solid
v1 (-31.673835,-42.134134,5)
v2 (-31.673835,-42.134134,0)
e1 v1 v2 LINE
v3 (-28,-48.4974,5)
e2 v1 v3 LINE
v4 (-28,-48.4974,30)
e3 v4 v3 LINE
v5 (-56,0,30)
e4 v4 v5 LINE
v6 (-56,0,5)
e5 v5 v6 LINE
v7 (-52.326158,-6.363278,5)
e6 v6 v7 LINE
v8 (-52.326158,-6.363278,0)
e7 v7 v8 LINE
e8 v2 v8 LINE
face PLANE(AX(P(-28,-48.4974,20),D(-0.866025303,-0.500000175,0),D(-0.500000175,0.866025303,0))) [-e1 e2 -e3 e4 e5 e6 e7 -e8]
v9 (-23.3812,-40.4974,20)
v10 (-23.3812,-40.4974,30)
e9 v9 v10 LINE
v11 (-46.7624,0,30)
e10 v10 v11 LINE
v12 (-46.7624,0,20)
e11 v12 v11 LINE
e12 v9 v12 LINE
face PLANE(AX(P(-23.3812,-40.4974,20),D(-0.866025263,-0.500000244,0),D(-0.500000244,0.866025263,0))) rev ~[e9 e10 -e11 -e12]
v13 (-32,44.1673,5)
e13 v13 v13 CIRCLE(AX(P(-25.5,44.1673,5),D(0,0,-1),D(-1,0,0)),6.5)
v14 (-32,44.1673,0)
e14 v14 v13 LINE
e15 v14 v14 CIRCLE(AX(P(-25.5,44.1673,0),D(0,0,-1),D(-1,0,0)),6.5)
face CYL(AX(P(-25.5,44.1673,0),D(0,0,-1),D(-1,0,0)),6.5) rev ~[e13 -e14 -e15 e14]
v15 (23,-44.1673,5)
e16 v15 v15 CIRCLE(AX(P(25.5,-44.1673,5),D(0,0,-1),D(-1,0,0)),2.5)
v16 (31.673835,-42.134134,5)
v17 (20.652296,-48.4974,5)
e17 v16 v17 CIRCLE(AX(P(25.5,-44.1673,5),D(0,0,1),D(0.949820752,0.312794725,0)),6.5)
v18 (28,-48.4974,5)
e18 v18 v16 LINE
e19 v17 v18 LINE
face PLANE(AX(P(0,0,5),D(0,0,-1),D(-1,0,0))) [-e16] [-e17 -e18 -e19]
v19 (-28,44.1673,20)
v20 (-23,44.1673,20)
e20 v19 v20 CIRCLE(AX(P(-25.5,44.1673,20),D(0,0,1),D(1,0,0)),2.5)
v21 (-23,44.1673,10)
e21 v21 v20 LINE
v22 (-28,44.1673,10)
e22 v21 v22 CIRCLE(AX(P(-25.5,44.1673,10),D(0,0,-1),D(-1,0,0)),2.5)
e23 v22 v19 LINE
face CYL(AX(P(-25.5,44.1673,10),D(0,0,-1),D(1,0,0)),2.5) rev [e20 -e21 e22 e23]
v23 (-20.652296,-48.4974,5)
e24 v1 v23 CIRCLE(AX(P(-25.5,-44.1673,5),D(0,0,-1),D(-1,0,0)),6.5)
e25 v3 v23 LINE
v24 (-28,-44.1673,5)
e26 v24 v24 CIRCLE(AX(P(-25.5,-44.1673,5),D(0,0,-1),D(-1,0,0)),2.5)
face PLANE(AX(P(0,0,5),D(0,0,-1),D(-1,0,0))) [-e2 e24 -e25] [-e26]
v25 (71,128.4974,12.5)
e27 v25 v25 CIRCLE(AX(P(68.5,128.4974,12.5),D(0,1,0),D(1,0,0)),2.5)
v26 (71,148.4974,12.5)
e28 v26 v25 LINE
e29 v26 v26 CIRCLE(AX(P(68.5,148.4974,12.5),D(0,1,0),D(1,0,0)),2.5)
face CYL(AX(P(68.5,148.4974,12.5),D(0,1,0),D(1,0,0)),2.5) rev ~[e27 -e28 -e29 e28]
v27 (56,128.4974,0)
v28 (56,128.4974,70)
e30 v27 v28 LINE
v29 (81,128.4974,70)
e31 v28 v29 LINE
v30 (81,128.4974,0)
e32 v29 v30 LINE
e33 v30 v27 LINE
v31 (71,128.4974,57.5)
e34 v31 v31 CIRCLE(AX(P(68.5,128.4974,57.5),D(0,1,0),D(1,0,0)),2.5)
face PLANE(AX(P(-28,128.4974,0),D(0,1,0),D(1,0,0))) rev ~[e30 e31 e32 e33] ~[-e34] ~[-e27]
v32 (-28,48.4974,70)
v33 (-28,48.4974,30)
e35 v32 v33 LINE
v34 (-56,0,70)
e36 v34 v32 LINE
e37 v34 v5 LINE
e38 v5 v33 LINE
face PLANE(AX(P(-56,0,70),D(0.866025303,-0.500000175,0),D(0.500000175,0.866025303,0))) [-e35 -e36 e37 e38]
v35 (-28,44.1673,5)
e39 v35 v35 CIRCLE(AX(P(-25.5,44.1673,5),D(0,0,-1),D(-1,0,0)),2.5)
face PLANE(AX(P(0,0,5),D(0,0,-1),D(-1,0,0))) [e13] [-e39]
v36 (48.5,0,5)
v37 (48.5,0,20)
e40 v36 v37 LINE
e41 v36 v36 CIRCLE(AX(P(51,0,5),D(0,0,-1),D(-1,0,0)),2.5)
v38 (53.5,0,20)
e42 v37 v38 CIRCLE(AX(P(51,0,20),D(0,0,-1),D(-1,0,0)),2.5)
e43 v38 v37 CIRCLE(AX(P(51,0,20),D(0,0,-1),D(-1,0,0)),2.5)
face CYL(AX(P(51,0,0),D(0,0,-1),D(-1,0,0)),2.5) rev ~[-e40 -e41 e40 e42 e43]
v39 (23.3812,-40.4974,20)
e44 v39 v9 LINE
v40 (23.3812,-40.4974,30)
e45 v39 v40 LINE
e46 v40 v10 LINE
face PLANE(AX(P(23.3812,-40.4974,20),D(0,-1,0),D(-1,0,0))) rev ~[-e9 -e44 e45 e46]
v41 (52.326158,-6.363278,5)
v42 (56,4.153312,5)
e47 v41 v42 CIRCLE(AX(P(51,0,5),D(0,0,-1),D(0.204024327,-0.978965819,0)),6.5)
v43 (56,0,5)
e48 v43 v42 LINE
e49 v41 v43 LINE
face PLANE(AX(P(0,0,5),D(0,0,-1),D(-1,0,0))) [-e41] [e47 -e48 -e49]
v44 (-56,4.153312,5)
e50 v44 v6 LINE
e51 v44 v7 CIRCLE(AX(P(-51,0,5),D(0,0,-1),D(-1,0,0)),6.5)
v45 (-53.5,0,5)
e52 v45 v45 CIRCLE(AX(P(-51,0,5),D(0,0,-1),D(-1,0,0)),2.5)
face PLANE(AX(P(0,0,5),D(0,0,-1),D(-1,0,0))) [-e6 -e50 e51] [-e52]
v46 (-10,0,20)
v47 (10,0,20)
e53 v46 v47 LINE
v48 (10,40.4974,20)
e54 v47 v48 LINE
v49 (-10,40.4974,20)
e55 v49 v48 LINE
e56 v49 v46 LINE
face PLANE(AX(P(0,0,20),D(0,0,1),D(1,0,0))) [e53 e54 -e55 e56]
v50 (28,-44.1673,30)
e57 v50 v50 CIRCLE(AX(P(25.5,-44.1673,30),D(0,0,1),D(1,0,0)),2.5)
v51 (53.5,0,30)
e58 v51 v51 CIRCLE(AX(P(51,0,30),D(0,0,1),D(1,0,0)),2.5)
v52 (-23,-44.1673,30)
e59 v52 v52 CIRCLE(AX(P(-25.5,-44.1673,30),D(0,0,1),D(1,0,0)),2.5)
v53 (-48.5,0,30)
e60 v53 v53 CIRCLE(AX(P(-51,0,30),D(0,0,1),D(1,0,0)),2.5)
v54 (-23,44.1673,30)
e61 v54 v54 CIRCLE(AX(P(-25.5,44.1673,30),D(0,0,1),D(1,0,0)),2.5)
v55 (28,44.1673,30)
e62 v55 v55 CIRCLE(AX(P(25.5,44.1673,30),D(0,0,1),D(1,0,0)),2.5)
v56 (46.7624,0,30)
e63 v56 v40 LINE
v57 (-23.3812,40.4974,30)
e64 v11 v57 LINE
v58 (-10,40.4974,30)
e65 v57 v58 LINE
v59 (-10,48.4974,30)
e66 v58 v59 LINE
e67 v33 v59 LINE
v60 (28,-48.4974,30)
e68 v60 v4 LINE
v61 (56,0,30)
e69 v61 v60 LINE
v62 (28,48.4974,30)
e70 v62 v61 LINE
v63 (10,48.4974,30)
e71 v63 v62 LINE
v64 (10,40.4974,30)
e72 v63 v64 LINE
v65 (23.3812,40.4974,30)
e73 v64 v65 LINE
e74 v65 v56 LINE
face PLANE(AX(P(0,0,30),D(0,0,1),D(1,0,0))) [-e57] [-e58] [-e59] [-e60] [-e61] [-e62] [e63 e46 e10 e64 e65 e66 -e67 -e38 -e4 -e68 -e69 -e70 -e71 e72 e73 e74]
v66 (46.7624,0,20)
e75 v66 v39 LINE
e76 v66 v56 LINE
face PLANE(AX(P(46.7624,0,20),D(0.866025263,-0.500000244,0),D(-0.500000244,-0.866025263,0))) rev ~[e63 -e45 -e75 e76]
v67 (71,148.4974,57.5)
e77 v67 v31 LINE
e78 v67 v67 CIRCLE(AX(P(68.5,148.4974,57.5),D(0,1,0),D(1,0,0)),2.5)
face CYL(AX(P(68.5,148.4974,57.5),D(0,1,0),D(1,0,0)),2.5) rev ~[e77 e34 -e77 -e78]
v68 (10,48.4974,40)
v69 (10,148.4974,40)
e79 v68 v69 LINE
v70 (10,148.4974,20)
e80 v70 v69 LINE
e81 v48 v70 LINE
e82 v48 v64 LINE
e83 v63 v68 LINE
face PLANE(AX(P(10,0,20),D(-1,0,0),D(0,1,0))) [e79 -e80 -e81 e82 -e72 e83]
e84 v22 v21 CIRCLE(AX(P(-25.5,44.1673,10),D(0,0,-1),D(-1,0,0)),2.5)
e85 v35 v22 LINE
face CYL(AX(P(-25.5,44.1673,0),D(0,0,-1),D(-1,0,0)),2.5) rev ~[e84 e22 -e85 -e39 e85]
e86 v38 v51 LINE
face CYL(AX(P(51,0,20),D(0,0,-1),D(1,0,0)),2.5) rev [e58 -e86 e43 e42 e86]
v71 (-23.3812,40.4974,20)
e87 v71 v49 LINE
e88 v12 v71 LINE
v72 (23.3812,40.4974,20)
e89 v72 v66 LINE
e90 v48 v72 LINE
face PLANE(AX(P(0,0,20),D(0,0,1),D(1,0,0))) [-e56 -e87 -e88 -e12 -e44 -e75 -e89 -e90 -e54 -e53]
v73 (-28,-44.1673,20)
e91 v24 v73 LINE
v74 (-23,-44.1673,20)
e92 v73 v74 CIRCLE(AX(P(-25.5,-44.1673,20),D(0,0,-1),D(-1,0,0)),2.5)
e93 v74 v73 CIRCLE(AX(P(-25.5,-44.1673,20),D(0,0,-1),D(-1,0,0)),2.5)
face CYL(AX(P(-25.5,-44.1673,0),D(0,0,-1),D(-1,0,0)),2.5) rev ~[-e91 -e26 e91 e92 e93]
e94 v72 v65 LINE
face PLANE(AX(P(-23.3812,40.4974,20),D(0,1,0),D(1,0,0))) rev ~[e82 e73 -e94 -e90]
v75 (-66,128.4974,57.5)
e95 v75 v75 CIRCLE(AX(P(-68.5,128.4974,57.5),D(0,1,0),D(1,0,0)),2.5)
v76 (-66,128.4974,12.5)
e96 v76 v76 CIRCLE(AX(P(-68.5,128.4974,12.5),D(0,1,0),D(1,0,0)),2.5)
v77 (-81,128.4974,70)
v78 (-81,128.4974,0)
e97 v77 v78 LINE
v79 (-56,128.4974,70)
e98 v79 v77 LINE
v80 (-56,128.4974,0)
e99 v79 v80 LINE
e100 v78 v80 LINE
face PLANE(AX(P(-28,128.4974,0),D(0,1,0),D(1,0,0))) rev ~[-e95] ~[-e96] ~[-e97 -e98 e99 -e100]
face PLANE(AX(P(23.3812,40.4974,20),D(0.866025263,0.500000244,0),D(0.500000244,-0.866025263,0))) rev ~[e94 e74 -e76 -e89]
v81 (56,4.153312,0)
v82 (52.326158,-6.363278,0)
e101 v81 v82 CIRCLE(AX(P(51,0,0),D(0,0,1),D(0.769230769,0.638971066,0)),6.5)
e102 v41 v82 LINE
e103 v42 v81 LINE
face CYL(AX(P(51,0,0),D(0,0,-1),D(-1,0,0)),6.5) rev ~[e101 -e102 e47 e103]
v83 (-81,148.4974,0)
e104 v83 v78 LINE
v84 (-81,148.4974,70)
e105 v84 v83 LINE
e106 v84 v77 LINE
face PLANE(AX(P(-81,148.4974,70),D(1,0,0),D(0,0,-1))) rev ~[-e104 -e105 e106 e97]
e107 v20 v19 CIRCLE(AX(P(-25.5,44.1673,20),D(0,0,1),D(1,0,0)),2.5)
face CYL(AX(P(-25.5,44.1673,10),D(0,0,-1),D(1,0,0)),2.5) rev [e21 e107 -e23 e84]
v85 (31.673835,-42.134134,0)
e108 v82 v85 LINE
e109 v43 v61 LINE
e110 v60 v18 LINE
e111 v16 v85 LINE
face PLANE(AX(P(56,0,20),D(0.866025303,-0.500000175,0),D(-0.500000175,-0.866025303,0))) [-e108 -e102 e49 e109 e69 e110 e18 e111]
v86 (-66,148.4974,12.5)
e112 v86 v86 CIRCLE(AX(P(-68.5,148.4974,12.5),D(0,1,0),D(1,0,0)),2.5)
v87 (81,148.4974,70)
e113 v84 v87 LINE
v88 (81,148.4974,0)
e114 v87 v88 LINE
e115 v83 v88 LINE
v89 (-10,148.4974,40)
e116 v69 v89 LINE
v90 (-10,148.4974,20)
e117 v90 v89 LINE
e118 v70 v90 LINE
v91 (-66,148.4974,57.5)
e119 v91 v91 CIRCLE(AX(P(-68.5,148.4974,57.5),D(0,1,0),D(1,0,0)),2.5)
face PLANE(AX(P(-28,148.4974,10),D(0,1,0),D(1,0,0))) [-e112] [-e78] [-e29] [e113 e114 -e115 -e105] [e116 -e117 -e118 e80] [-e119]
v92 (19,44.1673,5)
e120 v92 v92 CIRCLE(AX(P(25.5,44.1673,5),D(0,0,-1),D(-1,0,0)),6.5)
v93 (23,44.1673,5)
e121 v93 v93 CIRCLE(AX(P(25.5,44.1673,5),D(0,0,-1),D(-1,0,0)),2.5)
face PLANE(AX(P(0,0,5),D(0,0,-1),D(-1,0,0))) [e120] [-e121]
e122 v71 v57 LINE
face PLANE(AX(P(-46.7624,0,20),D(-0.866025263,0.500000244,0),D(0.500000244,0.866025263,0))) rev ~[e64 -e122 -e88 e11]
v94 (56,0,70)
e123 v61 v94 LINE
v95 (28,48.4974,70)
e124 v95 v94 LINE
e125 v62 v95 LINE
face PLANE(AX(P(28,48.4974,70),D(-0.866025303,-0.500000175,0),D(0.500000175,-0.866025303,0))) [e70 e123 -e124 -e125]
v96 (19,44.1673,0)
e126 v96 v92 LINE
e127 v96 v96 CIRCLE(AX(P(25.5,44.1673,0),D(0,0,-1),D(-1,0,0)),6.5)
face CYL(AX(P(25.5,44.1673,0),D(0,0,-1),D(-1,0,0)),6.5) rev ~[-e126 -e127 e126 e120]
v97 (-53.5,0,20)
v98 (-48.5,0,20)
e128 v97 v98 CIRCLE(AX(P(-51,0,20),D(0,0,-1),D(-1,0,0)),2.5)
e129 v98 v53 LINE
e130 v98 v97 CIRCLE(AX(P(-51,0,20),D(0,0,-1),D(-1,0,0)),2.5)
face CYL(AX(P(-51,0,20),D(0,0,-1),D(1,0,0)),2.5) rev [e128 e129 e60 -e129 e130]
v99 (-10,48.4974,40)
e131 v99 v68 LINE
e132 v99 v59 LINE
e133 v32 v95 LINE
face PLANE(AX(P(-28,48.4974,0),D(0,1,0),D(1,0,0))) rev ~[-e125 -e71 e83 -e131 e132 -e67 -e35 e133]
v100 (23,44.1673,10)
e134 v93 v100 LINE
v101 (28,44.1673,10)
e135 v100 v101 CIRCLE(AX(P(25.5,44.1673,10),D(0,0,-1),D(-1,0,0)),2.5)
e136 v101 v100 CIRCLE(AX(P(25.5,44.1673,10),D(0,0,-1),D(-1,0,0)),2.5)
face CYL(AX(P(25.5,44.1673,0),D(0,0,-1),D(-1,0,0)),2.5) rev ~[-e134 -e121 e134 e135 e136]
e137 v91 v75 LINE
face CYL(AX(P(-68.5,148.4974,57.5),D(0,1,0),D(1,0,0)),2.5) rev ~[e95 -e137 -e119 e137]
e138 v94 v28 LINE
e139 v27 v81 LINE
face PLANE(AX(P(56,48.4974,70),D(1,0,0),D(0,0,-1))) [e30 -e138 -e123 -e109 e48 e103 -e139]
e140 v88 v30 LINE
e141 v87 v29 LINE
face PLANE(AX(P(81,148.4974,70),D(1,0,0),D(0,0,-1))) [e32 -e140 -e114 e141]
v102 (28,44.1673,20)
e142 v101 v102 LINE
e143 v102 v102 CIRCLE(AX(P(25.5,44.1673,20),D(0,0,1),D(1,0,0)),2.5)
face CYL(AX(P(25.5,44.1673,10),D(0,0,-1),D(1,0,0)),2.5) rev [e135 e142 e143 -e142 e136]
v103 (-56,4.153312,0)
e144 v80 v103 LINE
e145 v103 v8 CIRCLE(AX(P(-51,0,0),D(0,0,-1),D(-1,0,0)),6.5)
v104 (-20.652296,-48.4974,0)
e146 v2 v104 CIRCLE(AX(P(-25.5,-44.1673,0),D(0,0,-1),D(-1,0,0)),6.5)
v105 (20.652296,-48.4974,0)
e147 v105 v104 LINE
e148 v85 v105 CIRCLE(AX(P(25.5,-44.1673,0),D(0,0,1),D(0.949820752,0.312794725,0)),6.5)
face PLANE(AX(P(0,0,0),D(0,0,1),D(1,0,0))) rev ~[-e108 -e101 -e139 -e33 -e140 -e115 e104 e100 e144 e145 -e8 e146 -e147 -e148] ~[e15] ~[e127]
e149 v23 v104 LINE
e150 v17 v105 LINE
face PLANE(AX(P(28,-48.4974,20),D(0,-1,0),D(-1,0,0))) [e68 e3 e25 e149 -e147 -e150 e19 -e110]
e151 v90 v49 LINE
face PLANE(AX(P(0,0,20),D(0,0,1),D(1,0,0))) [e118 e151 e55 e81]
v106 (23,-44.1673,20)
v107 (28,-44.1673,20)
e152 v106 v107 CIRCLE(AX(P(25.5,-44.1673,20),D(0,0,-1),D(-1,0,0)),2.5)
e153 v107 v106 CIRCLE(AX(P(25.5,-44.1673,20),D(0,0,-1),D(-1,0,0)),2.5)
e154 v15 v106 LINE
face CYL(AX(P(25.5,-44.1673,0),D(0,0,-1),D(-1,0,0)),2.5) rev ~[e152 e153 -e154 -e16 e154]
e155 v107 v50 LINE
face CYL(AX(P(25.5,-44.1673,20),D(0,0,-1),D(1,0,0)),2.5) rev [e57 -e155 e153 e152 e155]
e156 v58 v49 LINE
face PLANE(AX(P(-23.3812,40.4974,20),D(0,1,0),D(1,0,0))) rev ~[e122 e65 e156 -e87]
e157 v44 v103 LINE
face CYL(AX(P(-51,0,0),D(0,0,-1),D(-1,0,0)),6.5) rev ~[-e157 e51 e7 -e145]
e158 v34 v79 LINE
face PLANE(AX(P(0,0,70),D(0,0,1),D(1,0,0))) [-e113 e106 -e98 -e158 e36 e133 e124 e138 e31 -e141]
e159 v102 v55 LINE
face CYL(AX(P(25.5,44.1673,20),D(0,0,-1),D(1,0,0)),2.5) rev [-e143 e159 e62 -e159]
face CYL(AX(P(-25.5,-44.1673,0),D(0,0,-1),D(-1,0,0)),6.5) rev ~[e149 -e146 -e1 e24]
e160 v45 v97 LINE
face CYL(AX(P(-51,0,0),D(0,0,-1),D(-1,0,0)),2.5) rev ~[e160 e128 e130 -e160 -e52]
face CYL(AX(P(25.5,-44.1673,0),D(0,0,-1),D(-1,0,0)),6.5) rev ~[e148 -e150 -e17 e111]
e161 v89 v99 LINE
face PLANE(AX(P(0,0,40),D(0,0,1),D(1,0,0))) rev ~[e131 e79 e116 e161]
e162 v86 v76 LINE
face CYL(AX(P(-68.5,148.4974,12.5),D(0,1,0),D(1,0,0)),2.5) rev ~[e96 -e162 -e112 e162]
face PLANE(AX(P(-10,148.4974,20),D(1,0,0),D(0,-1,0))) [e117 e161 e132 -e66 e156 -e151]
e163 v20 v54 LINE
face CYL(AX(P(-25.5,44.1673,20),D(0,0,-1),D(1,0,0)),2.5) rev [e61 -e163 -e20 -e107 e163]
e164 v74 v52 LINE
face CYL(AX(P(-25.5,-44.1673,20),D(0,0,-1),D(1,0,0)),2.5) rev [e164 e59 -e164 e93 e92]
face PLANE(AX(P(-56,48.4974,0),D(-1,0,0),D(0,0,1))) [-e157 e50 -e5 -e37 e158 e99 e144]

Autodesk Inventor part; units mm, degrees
ref_plane "YZ Plane" through (0, 0, 0) normal (1, 0, 0) x (0, 1, 0)
ref_plane "XZ Plane" through (0, 0, 0) normal (0, 1, 0) x (-1, 0, 0)
ref_plane "XY Plane" through (0, 0, 0) normal (0, 0, 1) x (1, 0, 0)
sketch "Sketch5" plane through (0, 0, 0) normal (0, 0, 1) x (1, 0, 0)
  line L0 (56, 0) -> (28, -48.4974)
  line L1 (28, -48.4974) -> (-28, -48.4974)
  line L2 (-28, -48.4974) -> (-56, 0)
  line L3 (-56, 0) -> (-28, 48.4974)
  line L4 (-28, 48.4974) -> (28, 48.4974)
  line L5 (28, 48.4974) -> (56, 0)
  circle A0 centre (0, 30) radius 2.5
  circle A1 centre (-25.9808, 15) radius 2.5
  circle A2 centre (-25.9808, -15) radius 2.5
  circle A3 centre (0, -30) radius 2.5
  circle A4 centre (25.9808, -15) radius 2.5
  circle A5 centre (25.9808, 15) radius 2.5
  point P0 (0, 0)
  point P1 (0, 0)
  dimension "d28" = 112
  dimension "d29" = 5
  dimension "d30" = 30
  dimension "d33" = 360
extrude "Extrusion3" add sketch "Sketch5" along normal blind 10
sketch "Sketch6" plane through (0, 0, 10) normal (0, 0, 1) x (1, 0, 0)
  circle A0 centre (25.9808, 15) radius 2.5 construction
  circle A1 centre (25.9808, -15) radius 2.5 construction
  circle A2 centre (0, -30) radius 2.5 construction
  circle A3 centre (-25.9808, -15) radius 2.5 construction
  circle A4 centre (-25.9808, 15) radius 2.5 construction
  circle A5 centre (0, 30) radius 2.5 construction
  line L0 (28, -48.4974) -> (56, 0) projected
  line L1 (56, 0) -> (28, 48.4974) projected
  line L2 (28, 48.4974) -> (-28, 48.4974) projected
  line L3 (-28, 48.4974) -> (-56, 0) projected
  line L4 (-56, 0) -> (-28, -48.4974) projected
  line L5 (-28, -48.4974) -> (28, -48.4974) projected
  line L6 (-44.453, 0) -> (-22.2265, 38.4974)
  line L7 (-22.2265, 38.4974) -> (22.2265, 38.4974)
  line L8 (22.2265, 38.4974) -> (44.453, 0)
  line L9 (44.453, 0) -> (22.2265, -38.4974)
  line L10 (22.2265, -38.4974) -> (-22.2265, -38.4974)
  line L11 (-22.2265, -38.4974) -> (-44.453, 0)
  point P0 (0, 0)
  dimension "d37" = 10
extrude "Extrusion4" add sketch "Sketch6" along normal blind 50
sketch "Sketch7" plane through (0, 0, 60) normal (0, 0, 1) x (1, 0, 0)
  line L0 (-22.2265, 38.4974) -> (22.2265, 38.4974) projected
  line L1 (22.2265, 38.4974) -> (44.453, 0) projected
  line L2 (44.453, 0) -> (22.2265, -38.4974) projected
  line L3 (22.2265, -38.4974) -> (-22.2265, -38.4974) projected
  line L4 (-22.2265, -38.4974) -> (-44.453, 0) projected
  line L5 (-44.453, 0) -> (-22.2265, 38.4974) projected
  line L6 (28, -48.4974) -> (56, 0) projected
  line L7 (56, 0) -> (28, 48.4974) projected
  line L8 (28, 48.4974) -> (-28, 48.4974) projected
  line L9 (-28, 48.4974) -> (-56, 0) projected
  line L10 (-56, 0) -> (-28, -48.4974) projected
  line L11 (-28, -48.4974) -> (28, -48.4974) projected
  point P0 (0, 0)
extrude "Extrusion5" add sketch "Sketch7" along normal blind 10 contours L0 L1 L2 L3 L4 L5 | L11 L10 L9 L8 L7 L6
sketch "Sketch8" plane through (-28, 48.4974, 0) normal (0, 1, 0) x (1, 0, 0)
  line L0 (-28, -70) -> (0, -70) projected
  line L1 (-28, -70) -> (84, -70)
  line L2 (84, -70) -> (84, 0)
  line L3 (84, 0) -> (-28, 0)
  line L4 (-28, 0) -> (-28, -70)
  line L5 (0, 0) -> (56, 0) projected
  point P0 (28, 0)
  point P1 (28, 0)
  dimension "d42" = 112
extrude "Extrusion6" add sketch "Sketch8" against normal blind 48.4974 and the other way blind 100
sketch "Sketch9" plane through (-28, 148.4974, 0) normal (0, 1, 0) x (1, 0, 0)
  line L0 (-16.453, -60) -> (72.453, -60) projected
  line L1 (72.453, -10) -> (72.453, -60) projected
  line L2 (-16.453, -10) -> (-16.453, -60) projected
  line L3 (50.2265, -10) -> (72.453, -10) projected
  line L4 (72.453, -10) -> (-16.453, -10)
  point P0 (28, 0)
extrude "Extrusion7" cut sketch "Sketch9" against normal blind 100
sketch "Sketch10" plane through (0, 0, 0) normal (0, 0, -1) x (-1, 0, 0)
  circle A0 centre (-25.9808, -15) radius 2.5 projected
  circle A1 centre (-25.9808, -15) radius 2.5 projected
  circle A2 centre (-25.9808, -15) radius 2.5
  circle A3 centre (0, -30) radius 2.5
  circle A4 centre (25.9808, -15) radius 2.5
  circle A5 centre (25.9808, 15) radius 2.5
  circle A6 centre (0, 30) radius 2.5
  circle A7 centre (-25.9808, 15) radius 2.5
  point P0 (0, 0)
  dimension "d52" = 360
extrude "Extrusion8" cut sketch "Sketch10" against normal blind 10
sketch "Sketch12" plane through (0, 0, 70) normal (0, 0, 1) x (1, 0, 0)
  line L0 (56, 0) -> (28, -48.4974) projected
  line L1 (56, 0) -> (28, -48.4974)
  line L2 (28, -48.4974) -> (-28, -48.4974)
  line L3 (-28, -48.4974) -> (-56, 0)
  line L4 (-56, 0) -> (-28, 48.4974)
  line L5 (-28, 48.4974) -> (28, 48.4974)
  line L6 (28, 48.4974) -> (56, 0)
  point P0 (0, 0)
  point P1 (0, 0)
extrude "Extrusion9" cut sketch "Sketch12" against normal blind 50
sketch "Sketch13" plane through (0, 0, 10) normal (0, 0, 1) x (1, 0, 0)
  line L0 (22.2265, -38.4974) -> (44.453, 0) projected
  line L1 (22.2265, -38.4974) -> (-22.2265, -38.4974)
  line L2 (-22.2265, -38.4974) -> (-44.453, 0)
  line L3 (-44.453, 0) -> (-22.2265, 38.4974)
  line L4 (-22.2265, 38.4974) -> (22.2265, 38.4974)
  line L5 (22.2265, 38.4974) -> (44.453, 0)
  line L6 (44.453, 0) -> (22.2265, -38.4974)
  point P0 (0, 0)
  point P1 (0, 0)
extrude "Extrusion10" cut sketch "Sketch13" along normal blind 10
sketch "Sketch14" plane through (-44.453, 148.4974, 10) normal (0, 0, 1) x (1, 0, 0)
  line L0 (-11.547, -148.4974) -> (16.453, -100) projected
  line L1 (16.453, -100) -> (16.453, -120)
  line L2 (0, -148.4974) -> (22.2265, -110) projected
  line L3 (16.453, -100) -> (72.453, -100) projected
  line L4 (72.453, -100) -> (72.453, -120)
  line L5 (66.6795, -110) -> (88.906, -148.4974) projected
  line L6 (16.453, -120) -> (72.453, -120)
  line L7 (16.453, -100) -> (72.453, -100)
  point P0 (44.453, -148.4974)
extrude "Extrusion11" cut sketch "Sketch14" along normal blind 10
sketch "Sketch15" plane through (-28, 148.4974, 0) normal (0, 1, 0) x (1, 0, 0)
  line L0 (-28, -20) -> (-28, -70) projected
  line L1 (-28, -70) -> (-53, -70)
  line L2 (-53, -70) -> (-53, 0)
  line L3 (-53, 0) -> (-28, 0)
  line L4 (-28, 0) -> (-28, -70)
  line L5 (-28, -70) -> (84, -70) projected
  line L6 (84, -70) -> (109, -70)
  line L7 (109, -70) -> (109, 0)
  line L8 (109, 0) -> (84, 0)
  line L9 (84, 0) -> (84, -70)
  circle A0 centre (96.5, -57.5) radius 2.5
  circle A1 centre (96.5, -12.5) radius 2.5
  circle A2 centre (-40.5, -12.5) radius 2.5
  circle A3 centre (-40.5, -57.5) radius 2.5
  line L10 (96.5, -57.5) -> (96.5, -12.5) construction
  line L11 (-40.5, -12.5) -> (-40.5, -57.5) construction
  point P0 (28, 0)
  point P1 (-40.5, -70)
  point P2 (-40.5, 0)
  point P3 (96.5, 0)
  point P4 (96.5, -70)
  point P5 (96.5, -35)
  point P6 (109, -35)
  dimension "d62" = 25
  dimension "d63" = 25
  dimension "d64" = 5
  dimension "d65" = 5
  dimension "d66" = 5
  dimension "d67" = 5
  dimension "d68" = 45
extrude "Extrusion12" add sketch "Sketch15" against normal blind 20
sketch "Sketch16" plane through (-28, 48.4974, 0) normal (0, 1, 0) x (1, 0, 0)
  line L0 (0, -20) -> (0, -10) projected
  line L1 (-16.453, -10) -> (0, -10) projected
  line L2 (-16.453, -60) -> (-16.453, -10) projected
  line L3 (0, -60) -> (-16.453, -60) projected
  line L4 (0, -60) -> (0, -20) projected
  line L5 (72.453, -10) -> (72.453, -60) projected
  line L6 (56, -10) -> (56, -20) projected
  line L7 (56, -20) -> (56, -60) projected
  line L8 (72.453, -60) -> (56, -60) projected
  line L9 (72.453, -10) -> (72.453, -60) projected
  line L10 (56, -10) -> (72.453, -10) projected
  point P0 (28, 0)
extrude "Extrusion13" add sketch "Sketch16" along normal blind 100
sketch "Sketch17" plane through (0, 0, 0) normal (0, 0, -1) x (-1, 0, 0)
  circle A0 centre (-51, 0) radius 2.5
  circle A1 centre (-25.5, -44.1673) radius 2.5
  circle A2 centre (25.5, -44.1673) radius 2.5
  circle A3 centre (51, 0) radius 2.5
  circle A4 centre (25.5, 44.1673) radius 2.5
  circle A5 centre (-25.5, 44.1673) radius 2.5
  point P0 (0, 0)
  point P1 (-56, 0)
  dimension "d73" = 5
  dimension "d74" = 5
  dimension "d77" = 360
extrude "Extrusion14" cut sketch "Sketch17" against normal through all
sketch "Sketch18" plane through (0, 0, 0) normal (0, 0, -1) x (-1, 0, 0)
  circle A0 centre (-51, 0) radius 2.5 projected
  circle A1 centre (-51, 0) radius 6.5
  circle A2 centre (-25.5, 44.1673) radius 6.5
  circle A3 centre (25.5, 44.1673) radius 6.5
  circle A4 centre (51, 0) radius 6.5
  circle A5 centre (25.5, -44.1673) radius 6.5
  circle A6 centre (-25.5, -44.1673) radius 6.5
  point P0 (0, 0)
  dimension "d81" = 13
  dimension "d84" = 360
extrude "Extrusion15" cut sketch "Sketch18" against normal blind 5 contours A0 | A1 | A2 | A3 | A4 | A5 | A6
sketch "Sketch19" plane through (0, 0, 10) normal (0, 0, 1) x (1, 0, 0)
  circle A0 centre (0, -30) radius 2.5 projected
  circle A1 centre (-25.9808, -15) radius 2.5 projected
  circle A2 centre (-25.9808, 15) radius 2.5 projected
  circle A3 centre (0, 30) radius 2.5 projected
  circle A4 centre (25.9808, 15) radius 2.5 projected
  circle A5 centre (25.9808, -15) radius 2.5 projected
  point P0 (0, 0)
extrude "Extrusion16" add sketch "Sketch19" against normal blind 10
sketch "Sketch20" plane through (-28, 148.4974, 0) normal (0, 1, 0) x (1, 0, 0)
  line L0 (56, -60) -> (0, -60) projected
  line L1 (0, -60) -> (0, -10) projected
  line L2 (0, -10) -> (56, -10) projected
  line L3 (56, -10) -> (56, -60) projected
  line L4 (5.7735, -20) -> (50.2265, -20) projected
  line L5 (50.2265, -20) -> (72.453, -20) projected
  line L6 (-16.453, -20) -> (5.7735, -20) projected
  line L7 (56, -20) -> (56, -10) projected
  line L8 (56, -20) -> (0, -20)
  line L9 (0, -20) -> (0, -60)
  line L10 (0, -60) -> (56, -60)
  line L11 (56, -60) -> (56, -20)
  point P0 (28, 0)
extrude "Extrusion17" add sketch "Sketch20" against normal blind 100 contours L0 L1 L6 L4 L5 L3
sketch "Sketch21" plane through (0, 0, 10) normal (0, 0, 1) x (1, 0, 0)
  line L0 (-28, 148.4974) -> (-28, 44.1673) projected
  circle A0 centre (-25.5, 44.1673) radius 2.5 projected
  line L1 (-28, 44.1673) -> (-28, 28.4974) projected
  line L2 (-44.453, 0) -> (-28, 28.4974) projected
  line L3 (-44.453, 0) -> (-22.2265, -38.4974) projected
  line L4 (-22.2265, -38.4974) -> (22.2265, -38.4974) projected
  line L5 (22.2265, -38.4974) -> (44.453, 0) projected
  line L6 (28, 28.4974) -> (44.453, 0) projected
  line L7 (28, 28.4974) -> (28, 44.1673) projected
  circle A1 centre (25.5, 44.1673) radius 2.5 projected
  line L8 (28, 44.1673) -> (28, 148.4974) projected
  line L9 (-28, 148.4974) -> (28, 148.4974) projected
  point P0 (0, 0)
extrude "Extrusion18" add sketch "Sketch21" along normal blind 10
sketch "Sketch22" plane through (0, 0, 20) normal (0, 0, 1) x (1, 0, 0)
  circle A0 centre (25.5, 44.1673) radius 2.5 projected
  line L0 (-28, 48.4974) -> (28, 48.4974) projected
  line L1 (-56, 0) -> (-28, 48.4974) projected
  line L2 (-28, -48.4974) -> (-56, 0) projected
  line L3 (28, -48.4974) -> (-28, -48.4974) projected
  line L4 (56, 0) -> (28, -48.4974) projected
  line L5 (28, 48.4974) -> (56, 0) projected
  circle A1 centre (-25.5, -44.1673) radius 2.5 projected
  circle A2 centre (51, 0) radius 2.5 projected
  circle A3 centre (25.5, -44.1673) radius 2.5 projected
  circle A4 centre (-51, 0) radius 2.5 projected
  circle A5 centre (-25.5, 44.1673) radius 2.5 projected
  line L6 (-46.7624, 0) -> (-23.3812, 40.4974)
  line L7 (-23.3812, 40.4974) -> (23.3812, 40.4974)
  line L8 (23.3812, 40.4974) -> (46.7624, 0)
  line L9 (46.7624, 0) -> (23.3812, -40.4974)
  line L10 (23.3812, -40.4974) -> (-23.3812, -40.4974)
  line L11 (-23.3812, -40.4974) -> (-46.7624, 0)
  point P0 (0, 0)
  dimension "d94" = 8
extrude "Extrusion19" add sketch "Sketch22" along normal blind 10
sketch "Sketch23" plane through (0, 0, 20) normal (0, 0, 1) x (1, 0, 0)
  line L0 (-10, 0) -> (10, 0)
  line L1 (10, 0) -> (10, 148.4974)
  line L2 (10, 148.4974) -> (-10, 148.4974)
  line L3 (-10, 148.4974) -> (-10, 0)
  line L4 (-81, 148.4974) -> (81, 148.4974) projected
  point P0 (0, 0)
  point P1 (0, 0)
  point P2 (0, 148.4974)
  dimension "d97" = 20
extrude "Extrusion20" cut sketch "Sketch23" along normal blind 20
properties part number "TARM01" material "ABS Plastic"
